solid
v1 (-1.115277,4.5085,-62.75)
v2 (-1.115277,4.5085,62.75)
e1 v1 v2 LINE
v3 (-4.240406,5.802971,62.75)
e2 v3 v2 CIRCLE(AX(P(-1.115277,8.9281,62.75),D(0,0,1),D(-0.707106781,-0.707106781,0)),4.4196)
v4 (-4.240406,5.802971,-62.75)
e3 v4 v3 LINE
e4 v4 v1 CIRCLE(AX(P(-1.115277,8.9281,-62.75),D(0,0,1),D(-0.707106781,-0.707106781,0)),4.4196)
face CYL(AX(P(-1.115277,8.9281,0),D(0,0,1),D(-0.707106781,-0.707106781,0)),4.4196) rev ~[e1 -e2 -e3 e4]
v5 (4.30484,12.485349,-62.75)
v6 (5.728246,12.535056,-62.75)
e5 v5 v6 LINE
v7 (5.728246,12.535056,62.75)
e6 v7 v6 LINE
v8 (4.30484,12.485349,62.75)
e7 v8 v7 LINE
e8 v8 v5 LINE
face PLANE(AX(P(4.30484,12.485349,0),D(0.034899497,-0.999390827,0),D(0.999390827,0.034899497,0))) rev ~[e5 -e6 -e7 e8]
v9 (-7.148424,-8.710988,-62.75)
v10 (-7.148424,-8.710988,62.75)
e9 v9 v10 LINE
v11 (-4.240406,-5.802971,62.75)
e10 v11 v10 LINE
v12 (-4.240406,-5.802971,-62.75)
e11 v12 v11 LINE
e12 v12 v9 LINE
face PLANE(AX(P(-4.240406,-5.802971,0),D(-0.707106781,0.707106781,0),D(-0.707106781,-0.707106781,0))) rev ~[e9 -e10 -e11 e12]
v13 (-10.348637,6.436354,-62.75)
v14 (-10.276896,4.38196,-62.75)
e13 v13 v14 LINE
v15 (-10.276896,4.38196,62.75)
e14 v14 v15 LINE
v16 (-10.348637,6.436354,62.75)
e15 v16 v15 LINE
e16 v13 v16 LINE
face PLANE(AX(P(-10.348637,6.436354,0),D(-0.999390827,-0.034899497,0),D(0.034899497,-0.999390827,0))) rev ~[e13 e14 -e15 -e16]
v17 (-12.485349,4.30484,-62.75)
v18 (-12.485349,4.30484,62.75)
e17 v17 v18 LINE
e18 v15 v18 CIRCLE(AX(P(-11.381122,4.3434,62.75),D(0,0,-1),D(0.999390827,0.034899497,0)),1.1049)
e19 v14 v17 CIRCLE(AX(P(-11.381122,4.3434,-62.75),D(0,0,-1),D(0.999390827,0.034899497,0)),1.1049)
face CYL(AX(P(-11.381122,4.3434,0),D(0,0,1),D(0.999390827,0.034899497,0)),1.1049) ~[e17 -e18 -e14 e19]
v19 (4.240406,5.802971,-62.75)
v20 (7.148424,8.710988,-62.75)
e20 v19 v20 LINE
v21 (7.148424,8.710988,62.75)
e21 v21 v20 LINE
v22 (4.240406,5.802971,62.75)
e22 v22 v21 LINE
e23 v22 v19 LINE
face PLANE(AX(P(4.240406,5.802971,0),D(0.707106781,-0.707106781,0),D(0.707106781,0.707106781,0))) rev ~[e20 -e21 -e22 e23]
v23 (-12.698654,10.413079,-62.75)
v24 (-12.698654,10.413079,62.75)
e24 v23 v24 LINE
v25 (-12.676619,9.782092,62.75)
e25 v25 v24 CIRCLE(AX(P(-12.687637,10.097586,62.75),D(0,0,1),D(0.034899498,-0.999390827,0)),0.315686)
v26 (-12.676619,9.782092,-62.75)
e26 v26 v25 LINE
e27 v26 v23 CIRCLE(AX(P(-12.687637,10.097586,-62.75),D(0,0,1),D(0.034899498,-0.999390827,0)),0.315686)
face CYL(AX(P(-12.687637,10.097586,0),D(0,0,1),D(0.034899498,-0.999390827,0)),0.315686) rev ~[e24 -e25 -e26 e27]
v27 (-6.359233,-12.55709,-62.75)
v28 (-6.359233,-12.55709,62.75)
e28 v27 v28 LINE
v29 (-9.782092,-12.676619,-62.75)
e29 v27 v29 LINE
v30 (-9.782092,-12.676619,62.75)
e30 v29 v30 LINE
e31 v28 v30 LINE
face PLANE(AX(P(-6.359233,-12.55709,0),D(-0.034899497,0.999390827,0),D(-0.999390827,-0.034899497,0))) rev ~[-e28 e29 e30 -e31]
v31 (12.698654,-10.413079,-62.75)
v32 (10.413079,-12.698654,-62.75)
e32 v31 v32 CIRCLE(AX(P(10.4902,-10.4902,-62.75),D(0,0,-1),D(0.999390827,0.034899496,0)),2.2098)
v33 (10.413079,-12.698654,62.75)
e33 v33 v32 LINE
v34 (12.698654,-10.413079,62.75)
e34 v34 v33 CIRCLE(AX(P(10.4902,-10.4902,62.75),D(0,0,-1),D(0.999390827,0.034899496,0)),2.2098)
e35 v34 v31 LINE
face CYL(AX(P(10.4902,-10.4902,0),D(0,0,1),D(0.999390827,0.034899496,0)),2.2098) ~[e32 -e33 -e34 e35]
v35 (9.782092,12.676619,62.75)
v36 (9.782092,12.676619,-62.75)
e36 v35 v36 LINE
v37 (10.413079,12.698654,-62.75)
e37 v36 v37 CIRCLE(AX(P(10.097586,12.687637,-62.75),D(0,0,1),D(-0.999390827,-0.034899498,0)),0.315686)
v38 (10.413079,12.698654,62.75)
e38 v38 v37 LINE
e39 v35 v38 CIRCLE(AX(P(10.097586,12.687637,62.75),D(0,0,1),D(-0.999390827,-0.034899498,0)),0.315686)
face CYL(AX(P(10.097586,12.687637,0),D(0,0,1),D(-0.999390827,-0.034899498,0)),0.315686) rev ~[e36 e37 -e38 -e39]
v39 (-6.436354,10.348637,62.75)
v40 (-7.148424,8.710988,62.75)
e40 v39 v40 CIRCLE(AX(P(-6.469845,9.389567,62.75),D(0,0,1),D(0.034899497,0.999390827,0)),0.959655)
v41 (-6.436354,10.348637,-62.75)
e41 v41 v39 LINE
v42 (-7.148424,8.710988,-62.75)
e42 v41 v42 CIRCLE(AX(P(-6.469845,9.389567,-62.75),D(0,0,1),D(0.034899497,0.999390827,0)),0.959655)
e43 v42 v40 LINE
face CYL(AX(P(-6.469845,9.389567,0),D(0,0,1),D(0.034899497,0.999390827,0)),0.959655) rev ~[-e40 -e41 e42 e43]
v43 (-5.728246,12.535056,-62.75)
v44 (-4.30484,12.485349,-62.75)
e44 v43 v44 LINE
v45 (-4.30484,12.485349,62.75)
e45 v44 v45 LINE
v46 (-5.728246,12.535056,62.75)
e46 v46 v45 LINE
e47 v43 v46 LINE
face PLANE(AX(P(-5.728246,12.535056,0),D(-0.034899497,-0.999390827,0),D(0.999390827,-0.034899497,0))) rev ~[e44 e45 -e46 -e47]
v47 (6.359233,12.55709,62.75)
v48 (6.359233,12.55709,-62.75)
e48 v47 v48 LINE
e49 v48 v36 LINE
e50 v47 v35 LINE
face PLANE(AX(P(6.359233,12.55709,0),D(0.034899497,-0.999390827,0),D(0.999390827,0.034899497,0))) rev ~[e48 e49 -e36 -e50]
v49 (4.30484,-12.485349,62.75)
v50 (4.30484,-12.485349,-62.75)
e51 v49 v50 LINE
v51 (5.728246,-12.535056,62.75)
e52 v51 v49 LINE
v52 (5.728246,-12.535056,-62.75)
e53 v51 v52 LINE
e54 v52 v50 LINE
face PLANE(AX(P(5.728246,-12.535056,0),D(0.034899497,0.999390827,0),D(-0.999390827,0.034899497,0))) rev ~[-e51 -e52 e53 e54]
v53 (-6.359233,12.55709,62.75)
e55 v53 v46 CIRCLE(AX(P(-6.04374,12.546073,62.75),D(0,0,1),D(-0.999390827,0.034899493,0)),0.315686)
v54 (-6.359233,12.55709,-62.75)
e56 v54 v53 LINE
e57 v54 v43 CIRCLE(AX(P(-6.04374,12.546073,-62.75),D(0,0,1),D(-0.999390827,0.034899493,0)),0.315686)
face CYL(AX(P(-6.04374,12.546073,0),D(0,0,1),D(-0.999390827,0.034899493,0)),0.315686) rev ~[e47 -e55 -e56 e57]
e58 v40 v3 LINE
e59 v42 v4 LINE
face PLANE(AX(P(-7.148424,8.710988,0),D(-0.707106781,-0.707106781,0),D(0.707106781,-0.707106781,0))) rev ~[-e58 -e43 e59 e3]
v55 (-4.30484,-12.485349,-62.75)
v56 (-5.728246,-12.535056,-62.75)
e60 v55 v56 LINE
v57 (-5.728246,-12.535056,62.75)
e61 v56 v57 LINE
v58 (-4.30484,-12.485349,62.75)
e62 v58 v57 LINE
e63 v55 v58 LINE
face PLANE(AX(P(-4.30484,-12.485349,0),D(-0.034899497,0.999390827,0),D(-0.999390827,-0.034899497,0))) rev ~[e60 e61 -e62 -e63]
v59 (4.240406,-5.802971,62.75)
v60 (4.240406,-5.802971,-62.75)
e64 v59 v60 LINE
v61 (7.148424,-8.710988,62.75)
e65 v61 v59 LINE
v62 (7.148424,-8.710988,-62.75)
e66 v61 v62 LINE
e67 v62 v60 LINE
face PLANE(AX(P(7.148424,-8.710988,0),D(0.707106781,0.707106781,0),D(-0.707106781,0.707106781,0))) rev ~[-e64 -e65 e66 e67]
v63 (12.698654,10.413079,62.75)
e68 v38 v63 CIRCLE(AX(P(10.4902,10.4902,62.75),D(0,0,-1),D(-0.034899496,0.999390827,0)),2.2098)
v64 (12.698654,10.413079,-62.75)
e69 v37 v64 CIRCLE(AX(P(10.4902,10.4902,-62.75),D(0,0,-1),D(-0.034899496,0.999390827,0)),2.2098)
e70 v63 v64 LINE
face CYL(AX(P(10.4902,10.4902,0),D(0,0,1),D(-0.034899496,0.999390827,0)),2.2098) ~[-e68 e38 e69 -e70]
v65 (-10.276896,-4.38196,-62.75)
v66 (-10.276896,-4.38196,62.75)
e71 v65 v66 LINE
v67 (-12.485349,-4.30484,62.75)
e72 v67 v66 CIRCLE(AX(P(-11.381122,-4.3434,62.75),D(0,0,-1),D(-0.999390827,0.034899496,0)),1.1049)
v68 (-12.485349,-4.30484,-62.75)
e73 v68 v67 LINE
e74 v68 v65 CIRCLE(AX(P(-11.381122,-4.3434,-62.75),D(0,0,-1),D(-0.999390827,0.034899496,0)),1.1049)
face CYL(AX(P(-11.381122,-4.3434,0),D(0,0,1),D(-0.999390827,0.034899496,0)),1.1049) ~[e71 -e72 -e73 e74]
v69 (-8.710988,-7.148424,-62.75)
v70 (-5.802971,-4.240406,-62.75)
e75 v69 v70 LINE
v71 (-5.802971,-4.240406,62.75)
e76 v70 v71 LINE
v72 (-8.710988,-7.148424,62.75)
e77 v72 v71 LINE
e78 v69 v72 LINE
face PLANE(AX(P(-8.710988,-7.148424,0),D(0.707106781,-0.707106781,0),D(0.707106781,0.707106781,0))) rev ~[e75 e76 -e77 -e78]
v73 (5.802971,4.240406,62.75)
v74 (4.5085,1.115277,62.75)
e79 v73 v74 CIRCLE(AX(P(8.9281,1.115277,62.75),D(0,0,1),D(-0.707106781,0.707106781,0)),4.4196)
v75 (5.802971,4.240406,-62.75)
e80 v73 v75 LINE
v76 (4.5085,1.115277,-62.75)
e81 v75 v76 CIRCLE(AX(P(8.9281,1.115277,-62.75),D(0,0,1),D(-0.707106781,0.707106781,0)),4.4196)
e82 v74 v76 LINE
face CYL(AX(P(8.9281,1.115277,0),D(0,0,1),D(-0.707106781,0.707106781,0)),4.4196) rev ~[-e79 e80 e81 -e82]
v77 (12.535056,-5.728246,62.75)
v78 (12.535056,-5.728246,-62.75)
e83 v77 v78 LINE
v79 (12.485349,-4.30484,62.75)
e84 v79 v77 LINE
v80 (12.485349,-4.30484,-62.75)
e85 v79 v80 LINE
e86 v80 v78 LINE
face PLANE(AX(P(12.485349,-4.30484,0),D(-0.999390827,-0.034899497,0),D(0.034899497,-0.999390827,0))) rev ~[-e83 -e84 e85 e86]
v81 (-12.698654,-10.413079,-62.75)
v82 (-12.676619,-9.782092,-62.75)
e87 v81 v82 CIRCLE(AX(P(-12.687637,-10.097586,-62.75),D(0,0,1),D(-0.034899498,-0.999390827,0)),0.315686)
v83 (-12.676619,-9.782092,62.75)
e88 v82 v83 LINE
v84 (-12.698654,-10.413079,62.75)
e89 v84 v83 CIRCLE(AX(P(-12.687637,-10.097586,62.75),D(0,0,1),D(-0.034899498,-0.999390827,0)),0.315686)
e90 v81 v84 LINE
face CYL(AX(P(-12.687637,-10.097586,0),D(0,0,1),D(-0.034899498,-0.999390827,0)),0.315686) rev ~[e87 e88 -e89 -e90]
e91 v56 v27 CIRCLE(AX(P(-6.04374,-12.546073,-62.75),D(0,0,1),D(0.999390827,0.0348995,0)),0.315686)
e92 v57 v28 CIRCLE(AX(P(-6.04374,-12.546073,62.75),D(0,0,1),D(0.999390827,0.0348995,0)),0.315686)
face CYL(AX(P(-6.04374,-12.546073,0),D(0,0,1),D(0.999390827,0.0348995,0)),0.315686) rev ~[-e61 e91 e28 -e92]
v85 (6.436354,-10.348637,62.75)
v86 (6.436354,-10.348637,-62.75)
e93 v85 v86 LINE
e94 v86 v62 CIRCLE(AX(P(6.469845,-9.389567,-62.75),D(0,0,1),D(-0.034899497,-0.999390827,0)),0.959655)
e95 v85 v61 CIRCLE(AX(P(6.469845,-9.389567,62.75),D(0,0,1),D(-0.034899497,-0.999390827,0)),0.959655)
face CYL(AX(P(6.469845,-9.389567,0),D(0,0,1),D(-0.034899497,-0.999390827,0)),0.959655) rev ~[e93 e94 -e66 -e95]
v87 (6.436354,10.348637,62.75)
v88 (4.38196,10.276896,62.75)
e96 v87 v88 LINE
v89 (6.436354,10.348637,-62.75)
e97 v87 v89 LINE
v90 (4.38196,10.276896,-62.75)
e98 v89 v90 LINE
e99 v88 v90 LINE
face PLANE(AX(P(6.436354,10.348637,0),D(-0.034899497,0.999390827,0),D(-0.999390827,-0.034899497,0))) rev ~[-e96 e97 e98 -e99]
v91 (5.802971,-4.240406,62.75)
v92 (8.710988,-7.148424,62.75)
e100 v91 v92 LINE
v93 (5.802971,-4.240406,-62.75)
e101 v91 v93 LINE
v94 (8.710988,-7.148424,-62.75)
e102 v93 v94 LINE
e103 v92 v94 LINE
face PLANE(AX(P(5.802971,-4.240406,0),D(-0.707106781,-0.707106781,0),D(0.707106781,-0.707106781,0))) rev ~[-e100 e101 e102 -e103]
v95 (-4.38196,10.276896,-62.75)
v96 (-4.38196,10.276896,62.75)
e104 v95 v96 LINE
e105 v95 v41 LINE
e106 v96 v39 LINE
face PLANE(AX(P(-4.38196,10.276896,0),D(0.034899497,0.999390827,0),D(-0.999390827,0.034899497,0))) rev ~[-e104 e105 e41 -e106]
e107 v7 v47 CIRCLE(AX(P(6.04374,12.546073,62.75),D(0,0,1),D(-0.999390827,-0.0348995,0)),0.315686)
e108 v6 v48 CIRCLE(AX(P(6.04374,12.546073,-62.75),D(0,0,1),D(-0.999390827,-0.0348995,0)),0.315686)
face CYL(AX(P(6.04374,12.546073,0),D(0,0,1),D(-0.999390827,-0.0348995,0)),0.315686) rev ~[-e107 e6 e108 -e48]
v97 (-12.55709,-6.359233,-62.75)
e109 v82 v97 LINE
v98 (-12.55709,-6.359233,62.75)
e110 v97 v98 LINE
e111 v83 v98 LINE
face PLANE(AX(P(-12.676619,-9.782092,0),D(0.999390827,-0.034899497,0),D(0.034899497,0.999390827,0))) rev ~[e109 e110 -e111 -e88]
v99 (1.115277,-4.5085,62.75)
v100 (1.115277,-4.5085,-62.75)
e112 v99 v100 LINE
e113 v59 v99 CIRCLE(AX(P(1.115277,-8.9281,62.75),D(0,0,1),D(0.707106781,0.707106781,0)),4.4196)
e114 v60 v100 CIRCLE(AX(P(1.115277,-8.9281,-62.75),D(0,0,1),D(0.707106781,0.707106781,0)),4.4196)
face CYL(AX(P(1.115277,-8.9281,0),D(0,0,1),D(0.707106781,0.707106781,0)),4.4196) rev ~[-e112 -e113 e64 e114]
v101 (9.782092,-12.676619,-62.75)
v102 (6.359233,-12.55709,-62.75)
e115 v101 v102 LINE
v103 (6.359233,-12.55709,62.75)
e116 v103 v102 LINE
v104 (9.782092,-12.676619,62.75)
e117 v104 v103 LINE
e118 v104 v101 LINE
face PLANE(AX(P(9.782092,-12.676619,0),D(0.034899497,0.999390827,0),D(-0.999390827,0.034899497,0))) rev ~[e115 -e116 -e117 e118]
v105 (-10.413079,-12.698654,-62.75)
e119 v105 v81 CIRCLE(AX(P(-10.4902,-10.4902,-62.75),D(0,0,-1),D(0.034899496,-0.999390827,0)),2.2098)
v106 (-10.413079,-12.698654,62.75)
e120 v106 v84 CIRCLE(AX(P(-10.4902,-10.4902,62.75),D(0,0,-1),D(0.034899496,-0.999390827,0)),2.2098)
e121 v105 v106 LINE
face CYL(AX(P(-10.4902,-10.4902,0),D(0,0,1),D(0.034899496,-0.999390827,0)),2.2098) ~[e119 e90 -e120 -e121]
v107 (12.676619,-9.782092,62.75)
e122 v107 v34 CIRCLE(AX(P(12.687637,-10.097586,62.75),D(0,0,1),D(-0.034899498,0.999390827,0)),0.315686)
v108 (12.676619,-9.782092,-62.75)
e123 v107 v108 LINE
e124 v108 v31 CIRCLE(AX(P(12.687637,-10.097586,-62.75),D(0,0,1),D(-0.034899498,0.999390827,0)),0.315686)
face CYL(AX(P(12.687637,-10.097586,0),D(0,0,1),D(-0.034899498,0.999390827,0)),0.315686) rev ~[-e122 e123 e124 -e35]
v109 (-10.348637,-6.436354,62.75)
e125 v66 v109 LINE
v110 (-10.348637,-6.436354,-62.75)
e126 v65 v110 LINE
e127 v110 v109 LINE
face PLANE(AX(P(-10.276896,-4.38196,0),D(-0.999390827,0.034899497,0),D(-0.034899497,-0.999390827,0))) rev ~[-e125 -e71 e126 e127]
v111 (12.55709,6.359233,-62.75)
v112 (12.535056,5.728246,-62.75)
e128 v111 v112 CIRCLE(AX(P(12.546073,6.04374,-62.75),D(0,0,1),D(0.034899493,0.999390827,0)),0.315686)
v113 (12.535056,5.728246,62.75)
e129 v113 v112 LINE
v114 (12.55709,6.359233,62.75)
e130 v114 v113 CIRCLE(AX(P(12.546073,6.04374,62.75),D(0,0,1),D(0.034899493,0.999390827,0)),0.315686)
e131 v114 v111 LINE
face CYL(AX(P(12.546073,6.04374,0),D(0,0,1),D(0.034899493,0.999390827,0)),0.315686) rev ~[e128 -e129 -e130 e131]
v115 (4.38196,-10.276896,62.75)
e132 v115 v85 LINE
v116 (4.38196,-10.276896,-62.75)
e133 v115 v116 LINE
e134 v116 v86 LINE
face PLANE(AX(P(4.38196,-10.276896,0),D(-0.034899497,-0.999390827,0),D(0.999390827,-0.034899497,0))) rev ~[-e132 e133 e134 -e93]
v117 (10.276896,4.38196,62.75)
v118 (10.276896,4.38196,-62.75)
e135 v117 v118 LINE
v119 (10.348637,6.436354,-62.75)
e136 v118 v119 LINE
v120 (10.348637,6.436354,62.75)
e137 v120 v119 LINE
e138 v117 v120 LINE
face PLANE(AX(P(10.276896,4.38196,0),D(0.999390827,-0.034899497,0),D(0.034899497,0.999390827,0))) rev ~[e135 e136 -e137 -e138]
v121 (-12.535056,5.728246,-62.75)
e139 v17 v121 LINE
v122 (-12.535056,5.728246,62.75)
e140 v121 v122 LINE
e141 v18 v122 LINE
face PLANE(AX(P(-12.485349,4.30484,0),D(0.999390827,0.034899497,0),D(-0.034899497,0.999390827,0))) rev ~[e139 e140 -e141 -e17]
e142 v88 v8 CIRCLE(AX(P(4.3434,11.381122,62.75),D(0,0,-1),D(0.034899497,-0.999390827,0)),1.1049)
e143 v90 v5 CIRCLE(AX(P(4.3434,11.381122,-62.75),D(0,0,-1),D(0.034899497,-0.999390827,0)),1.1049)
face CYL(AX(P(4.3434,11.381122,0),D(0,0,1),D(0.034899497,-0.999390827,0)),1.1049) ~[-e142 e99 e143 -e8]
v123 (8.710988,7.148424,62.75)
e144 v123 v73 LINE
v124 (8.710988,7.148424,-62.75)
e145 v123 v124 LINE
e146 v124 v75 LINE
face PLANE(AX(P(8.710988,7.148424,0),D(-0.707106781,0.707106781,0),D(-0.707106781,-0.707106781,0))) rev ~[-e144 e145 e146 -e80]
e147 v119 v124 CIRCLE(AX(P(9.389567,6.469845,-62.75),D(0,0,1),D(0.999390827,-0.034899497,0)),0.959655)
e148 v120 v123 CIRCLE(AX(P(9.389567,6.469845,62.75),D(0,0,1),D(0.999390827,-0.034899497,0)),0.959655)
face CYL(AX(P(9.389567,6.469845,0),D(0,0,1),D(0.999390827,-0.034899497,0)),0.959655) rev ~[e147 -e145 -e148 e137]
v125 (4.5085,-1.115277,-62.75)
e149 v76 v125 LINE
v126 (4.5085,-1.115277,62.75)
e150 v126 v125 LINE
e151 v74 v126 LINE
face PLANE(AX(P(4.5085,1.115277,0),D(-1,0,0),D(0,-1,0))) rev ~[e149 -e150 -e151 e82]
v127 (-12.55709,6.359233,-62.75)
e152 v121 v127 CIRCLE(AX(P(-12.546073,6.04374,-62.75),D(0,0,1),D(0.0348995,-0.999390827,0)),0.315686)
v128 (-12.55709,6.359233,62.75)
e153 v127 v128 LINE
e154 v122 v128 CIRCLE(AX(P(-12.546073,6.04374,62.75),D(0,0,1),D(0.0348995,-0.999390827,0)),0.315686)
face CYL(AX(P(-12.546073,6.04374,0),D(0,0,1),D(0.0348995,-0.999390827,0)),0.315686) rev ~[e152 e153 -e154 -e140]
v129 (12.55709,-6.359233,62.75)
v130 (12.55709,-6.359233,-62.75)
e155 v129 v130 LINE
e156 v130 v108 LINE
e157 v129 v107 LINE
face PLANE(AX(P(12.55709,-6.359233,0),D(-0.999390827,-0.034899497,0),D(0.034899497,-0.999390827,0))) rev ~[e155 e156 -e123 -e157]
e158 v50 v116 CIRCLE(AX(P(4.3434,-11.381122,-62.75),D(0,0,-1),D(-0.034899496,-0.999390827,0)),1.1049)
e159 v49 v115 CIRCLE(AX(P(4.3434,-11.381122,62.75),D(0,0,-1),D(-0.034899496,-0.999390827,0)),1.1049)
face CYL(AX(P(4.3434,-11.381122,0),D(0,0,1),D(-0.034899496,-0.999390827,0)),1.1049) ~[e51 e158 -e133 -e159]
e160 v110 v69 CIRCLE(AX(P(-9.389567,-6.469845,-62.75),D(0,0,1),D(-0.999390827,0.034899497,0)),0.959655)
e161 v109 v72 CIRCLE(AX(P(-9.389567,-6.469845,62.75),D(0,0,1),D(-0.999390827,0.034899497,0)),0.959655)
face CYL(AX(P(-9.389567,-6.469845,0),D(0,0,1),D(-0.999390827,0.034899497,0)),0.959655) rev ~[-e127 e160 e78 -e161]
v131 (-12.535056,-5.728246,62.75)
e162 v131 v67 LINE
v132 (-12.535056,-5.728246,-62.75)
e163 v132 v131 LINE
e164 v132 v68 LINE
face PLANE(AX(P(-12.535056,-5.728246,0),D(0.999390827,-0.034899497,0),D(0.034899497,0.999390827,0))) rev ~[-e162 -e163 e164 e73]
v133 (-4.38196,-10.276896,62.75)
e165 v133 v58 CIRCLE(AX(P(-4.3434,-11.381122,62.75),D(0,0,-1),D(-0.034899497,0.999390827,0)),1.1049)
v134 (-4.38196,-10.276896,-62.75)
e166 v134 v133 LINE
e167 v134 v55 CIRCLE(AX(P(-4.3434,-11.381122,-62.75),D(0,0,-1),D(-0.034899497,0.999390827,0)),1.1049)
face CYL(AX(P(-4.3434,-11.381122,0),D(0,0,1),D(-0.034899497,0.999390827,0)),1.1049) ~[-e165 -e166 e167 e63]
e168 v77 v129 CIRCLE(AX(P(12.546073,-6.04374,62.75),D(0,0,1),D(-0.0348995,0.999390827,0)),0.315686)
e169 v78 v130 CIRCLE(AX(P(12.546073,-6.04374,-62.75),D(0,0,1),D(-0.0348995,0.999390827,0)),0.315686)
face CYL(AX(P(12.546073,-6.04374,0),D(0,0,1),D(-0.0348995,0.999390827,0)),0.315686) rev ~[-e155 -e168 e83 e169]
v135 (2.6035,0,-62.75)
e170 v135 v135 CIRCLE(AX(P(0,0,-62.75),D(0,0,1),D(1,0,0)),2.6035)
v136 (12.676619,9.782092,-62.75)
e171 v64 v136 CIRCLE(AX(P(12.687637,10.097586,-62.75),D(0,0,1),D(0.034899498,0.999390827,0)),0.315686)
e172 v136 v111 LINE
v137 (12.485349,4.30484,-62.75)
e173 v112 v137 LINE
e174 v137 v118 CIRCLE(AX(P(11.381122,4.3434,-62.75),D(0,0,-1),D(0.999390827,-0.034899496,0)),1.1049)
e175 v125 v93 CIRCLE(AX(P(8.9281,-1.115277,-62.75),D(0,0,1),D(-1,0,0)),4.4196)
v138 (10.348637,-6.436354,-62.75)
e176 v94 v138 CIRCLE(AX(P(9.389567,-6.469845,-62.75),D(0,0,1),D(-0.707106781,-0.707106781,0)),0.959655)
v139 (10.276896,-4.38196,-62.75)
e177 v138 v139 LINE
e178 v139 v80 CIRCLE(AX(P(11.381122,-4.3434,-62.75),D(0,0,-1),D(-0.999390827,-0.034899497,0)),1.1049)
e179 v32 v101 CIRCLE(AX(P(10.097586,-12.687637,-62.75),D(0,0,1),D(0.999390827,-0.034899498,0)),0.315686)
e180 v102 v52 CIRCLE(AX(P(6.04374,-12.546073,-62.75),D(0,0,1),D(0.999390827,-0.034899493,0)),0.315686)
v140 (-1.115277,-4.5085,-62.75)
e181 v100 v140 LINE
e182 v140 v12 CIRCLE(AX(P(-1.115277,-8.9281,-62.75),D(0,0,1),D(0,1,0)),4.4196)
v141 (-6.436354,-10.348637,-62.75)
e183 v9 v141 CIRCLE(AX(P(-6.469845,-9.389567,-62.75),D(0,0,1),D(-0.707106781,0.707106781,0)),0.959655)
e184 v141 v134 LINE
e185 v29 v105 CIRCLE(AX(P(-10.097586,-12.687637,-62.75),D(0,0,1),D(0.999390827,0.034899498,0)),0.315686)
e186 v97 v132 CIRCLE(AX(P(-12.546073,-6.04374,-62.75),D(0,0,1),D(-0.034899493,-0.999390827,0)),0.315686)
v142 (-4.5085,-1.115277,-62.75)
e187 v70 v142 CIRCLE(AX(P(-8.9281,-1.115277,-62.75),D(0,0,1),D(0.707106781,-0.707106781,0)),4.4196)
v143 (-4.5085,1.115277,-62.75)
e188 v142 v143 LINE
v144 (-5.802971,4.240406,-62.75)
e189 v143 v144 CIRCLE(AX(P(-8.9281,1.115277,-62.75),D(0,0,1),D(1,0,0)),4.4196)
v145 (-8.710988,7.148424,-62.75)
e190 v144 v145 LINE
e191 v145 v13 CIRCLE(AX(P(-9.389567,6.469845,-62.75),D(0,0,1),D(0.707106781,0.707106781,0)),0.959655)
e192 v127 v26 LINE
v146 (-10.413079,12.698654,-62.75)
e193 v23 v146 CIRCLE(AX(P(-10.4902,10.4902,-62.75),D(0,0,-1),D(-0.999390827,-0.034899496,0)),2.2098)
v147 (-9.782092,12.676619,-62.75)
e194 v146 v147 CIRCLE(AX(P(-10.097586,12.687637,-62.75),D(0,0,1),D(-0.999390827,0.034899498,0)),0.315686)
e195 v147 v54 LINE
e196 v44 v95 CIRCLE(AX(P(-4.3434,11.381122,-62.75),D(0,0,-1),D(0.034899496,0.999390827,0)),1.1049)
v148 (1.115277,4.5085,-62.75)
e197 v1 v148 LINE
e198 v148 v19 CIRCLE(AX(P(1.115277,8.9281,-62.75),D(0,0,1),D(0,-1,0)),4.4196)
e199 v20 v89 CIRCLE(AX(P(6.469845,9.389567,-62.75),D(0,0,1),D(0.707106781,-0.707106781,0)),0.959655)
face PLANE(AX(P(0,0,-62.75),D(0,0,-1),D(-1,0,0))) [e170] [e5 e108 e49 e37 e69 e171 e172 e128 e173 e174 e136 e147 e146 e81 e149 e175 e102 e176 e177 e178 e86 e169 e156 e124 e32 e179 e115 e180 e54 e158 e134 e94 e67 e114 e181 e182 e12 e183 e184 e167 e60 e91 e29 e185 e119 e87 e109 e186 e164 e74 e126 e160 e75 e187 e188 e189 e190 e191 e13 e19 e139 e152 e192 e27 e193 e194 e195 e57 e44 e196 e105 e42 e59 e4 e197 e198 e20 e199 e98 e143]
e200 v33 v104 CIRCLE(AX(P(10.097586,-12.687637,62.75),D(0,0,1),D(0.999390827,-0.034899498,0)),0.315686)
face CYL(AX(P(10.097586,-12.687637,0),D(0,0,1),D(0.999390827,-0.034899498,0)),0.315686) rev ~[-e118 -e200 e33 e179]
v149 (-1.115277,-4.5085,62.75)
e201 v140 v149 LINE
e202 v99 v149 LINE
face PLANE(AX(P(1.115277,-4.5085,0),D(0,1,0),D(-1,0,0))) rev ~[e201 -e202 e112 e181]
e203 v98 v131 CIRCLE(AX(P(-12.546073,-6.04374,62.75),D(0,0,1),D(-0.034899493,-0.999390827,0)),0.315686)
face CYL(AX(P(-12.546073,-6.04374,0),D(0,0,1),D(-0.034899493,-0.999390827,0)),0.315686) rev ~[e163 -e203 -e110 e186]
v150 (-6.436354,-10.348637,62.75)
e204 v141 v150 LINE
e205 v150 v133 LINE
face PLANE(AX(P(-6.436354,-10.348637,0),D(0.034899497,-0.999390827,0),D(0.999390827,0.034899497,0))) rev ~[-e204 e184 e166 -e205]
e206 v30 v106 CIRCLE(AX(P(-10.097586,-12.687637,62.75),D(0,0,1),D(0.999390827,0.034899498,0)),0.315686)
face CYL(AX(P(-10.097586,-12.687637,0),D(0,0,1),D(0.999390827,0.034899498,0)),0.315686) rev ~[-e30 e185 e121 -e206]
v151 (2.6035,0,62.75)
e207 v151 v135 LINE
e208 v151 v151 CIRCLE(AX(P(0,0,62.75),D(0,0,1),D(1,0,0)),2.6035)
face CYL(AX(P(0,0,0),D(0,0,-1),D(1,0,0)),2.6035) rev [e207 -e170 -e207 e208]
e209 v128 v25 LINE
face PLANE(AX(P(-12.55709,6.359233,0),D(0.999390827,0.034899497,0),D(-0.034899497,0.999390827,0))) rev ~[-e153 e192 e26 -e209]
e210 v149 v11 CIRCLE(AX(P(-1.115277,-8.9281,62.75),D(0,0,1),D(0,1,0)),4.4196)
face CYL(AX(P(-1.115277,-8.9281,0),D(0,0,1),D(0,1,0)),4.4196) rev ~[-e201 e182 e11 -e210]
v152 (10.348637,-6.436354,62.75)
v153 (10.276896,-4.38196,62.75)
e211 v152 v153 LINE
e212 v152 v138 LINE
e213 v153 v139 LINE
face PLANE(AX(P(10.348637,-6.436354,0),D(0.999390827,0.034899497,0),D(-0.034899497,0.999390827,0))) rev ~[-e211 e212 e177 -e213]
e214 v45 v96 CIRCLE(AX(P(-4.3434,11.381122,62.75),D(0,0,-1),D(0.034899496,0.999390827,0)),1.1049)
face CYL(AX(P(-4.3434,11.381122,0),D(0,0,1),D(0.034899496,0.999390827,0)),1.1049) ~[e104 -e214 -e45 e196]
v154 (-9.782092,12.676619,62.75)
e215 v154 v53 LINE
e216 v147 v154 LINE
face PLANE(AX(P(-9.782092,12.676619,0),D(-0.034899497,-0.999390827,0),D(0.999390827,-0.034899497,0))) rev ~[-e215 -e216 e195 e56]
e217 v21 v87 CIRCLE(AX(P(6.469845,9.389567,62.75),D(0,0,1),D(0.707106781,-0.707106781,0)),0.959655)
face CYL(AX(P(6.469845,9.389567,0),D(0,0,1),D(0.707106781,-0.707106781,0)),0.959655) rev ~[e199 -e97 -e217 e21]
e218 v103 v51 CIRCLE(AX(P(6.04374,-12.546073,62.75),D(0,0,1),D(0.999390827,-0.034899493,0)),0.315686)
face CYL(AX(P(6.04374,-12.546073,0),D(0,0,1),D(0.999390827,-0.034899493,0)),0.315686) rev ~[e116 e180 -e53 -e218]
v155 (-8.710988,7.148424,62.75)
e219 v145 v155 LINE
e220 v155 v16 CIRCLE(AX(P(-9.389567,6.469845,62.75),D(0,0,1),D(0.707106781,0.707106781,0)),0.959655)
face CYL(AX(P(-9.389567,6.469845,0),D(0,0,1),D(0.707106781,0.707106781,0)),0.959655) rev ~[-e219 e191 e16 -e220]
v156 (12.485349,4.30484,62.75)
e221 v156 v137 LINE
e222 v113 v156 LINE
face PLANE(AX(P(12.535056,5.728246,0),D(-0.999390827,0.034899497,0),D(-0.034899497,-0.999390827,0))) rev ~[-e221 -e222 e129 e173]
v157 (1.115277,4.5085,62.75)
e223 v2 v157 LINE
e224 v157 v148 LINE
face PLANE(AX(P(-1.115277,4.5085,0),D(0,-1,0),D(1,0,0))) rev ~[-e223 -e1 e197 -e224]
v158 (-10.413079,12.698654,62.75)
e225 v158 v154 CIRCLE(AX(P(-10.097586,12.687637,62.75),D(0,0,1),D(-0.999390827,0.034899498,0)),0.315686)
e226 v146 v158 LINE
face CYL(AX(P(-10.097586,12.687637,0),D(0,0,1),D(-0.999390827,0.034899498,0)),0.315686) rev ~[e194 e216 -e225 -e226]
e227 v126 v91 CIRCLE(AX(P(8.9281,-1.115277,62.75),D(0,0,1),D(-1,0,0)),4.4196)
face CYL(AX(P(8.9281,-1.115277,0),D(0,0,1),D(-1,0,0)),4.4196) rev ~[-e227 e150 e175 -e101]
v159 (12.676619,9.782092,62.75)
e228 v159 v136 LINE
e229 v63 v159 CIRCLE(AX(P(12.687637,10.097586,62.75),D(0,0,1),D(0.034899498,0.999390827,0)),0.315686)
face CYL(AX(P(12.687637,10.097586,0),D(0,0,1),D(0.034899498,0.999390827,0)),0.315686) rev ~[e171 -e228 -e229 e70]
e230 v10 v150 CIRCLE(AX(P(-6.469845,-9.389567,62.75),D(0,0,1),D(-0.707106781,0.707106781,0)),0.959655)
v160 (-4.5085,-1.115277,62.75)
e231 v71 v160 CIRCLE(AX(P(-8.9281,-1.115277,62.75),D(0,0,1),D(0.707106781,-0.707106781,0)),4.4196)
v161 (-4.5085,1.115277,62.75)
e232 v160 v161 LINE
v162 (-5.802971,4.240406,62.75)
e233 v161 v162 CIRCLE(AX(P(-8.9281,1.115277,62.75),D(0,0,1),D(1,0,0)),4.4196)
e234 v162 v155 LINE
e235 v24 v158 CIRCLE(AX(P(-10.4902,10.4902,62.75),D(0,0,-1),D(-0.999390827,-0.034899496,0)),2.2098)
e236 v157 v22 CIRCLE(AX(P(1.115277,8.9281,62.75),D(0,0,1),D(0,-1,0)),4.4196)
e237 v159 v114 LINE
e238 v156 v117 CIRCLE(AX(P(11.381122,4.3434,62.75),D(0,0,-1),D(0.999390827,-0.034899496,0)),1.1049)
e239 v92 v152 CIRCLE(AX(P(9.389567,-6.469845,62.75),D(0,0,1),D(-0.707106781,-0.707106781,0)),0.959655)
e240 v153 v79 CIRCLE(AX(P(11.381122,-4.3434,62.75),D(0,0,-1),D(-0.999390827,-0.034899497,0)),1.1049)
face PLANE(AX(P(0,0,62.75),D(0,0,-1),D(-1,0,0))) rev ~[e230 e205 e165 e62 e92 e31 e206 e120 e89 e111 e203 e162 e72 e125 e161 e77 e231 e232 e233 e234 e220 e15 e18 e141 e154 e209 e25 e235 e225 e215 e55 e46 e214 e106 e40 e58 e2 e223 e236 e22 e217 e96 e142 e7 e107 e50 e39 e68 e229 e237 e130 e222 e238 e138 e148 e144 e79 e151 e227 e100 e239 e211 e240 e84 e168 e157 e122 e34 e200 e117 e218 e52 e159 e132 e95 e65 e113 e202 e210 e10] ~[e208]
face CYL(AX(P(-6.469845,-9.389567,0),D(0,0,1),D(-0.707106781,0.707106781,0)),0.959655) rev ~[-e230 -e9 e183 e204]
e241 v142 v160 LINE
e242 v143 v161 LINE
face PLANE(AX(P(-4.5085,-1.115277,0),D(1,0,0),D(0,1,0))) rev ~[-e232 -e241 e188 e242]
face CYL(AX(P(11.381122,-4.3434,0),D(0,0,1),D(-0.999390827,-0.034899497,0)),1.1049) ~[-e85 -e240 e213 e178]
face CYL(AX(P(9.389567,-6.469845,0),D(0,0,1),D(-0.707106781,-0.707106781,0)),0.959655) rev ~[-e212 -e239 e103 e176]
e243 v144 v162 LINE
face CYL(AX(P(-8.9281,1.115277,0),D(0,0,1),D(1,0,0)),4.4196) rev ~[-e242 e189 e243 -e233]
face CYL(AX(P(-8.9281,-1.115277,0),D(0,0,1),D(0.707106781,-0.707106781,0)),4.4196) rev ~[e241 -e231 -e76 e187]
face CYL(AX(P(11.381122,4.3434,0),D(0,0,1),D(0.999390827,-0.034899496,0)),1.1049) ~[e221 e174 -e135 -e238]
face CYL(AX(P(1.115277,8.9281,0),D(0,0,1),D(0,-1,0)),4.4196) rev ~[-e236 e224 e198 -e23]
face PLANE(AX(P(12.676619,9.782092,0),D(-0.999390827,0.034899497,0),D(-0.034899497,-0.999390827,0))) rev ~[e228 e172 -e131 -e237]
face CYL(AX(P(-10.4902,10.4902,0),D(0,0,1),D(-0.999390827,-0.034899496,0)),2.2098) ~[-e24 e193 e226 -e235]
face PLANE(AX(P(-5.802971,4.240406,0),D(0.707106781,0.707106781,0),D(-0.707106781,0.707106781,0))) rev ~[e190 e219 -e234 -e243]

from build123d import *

# Parameters (mm, degrees)
SKETCH3_R      = 2.6035
EXTRUDE1_DEPTH = 62.749999976


with BuildPart() as part:
    # Sketch3 → Extrude1 (new, symmetric)
    with BuildSketch(Plane.XY):
        with BuildLine():
            Line((-1.115277175, 4.5085), (1.115277175, 4.5085))
            ThreePointArc((1.115277175, 4.5085), (2.806584872, 4.844922018), (4.240406305, 5.80297087))
            Line((4.240406305, 5.80297087), (7.148423664, 8.710988229))
            ThreePointArc((7.148423664, 8.710988229), (7.349906316, 9.772227925), (6.436353897, 10.348636575))
            Line((6.436353897, 10.348636575), (4.381960454, 10.276895575))
            ThreePointArc((4.381960454, 10.276895575), (3.239173075, 11.342562046), (4.304839546, 12.485349424))
            Line((4.304839546, 12.485349424), (5.728246175, 12.535055879))
            ThreePointArc((5.728246175, 12.535055879), (6.054756855, 12.230579745), (6.35923299, 12.557090424))
            Line((6.35923299, 12.557090424), (9.782092278, 12.676619304))
            ThreePointArc((9.782092278, 12.676619304), (10.108602958, 12.37214317), (10.413079092, 12.69865385))
            ThreePointArc((10.413079092, 12.69865385), (12.052764565, 12.052764565), (12.69865385, 10.413079092))
            ThreePointArc((12.69865385, 10.413079092), (12.37214317, 10.108602958), (12.676619304, 9.782092278))
            Line((12.676619304, 9.782092278), (12.557090424, 6.35923299))
            ThreePointArc((12.557090424, 6.35923299), (12.230579745, 6.054756855), (12.535055879, 5.728246175))
            Line((12.535055879, 5.728246175), (12.485349424, 4.304839546))
            ThreePointArc((12.485349424, 4.304839546), (11.342562046, 3.239173075), (10.276895575, 4.381960454))
            Line((10.276895575, 4.381960454), (10.348636575, 6.436353897))
            ThreePointArc((10.348636575, 6.436353897), (9.772227925, 7.349906316), (8.710988229, 7.148423664))
            Line((8.710988229, 7.148423664), (5.80297087, 4.240406305))
            ThreePointArc((5.80297087, 4.240406305), (4.844922018, 2.806584872), (4.5085, 1.115277175))
            Line((4.5085, 1.115277175), (4.5085, -1.115277175))
            ThreePointArc((4.5085, -1.115277175), (4.844922018, -2.806584872), (5.80297087, -4.240406305))
            Line((5.80297087, -4.240406305), (8.710988229, -7.148423664))
            ThreePointArc((8.710988229, -7.148423664), (9.772227925, -7.349906316), (10.348636575, -6.436353897))
            Line((10.348636575, -6.436353897), (10.276895575, -4.381960454))
            ThreePointArc((10.276895575, -4.381960454), (11.342562046, -3.239173075), (12.485349424, -4.304839546))
            Line((12.485349424, -4.304839546), (12.535055879, -5.728246175))
            ThreePointArc((12.535055879, -5.728246175), (12.230579745, -6.054756855), (12.557090424, -6.35923299))
            Line((12.557090424, -6.35923299), (12.676619304, -9.782092278))
            ThreePointArc((12.676619304, -9.782092278), (12.37214317, -10.108602958), (12.69865385, -10.413079092))
            ThreePointArc((12.69865385, -10.413079092), (12.052764565, -12.052764565), (10.413079092, -12.69865385))
            ThreePointArc((10.413079092, -12.69865385), (10.108602958, -12.37214317), (9.782092278, -12.676619304))
            Line((9.782092278, -12.676619304), (6.35923299, -12.557090424))
            ThreePointArc((6.35923299, -12.557090424), (6.054756855, -12.230579745), (5.728246175, -12.535055879))
            Line((5.728246175, -12.535055879), (4.304839546, -12.485349424))
            ThreePointArc((4.304839546, -12.485349424), (3.239173075, -11.342562046), (4.381960454, -10.276895575))
            Line((4.381960454, -10.276895575), (6.436353897, -10.348636575))
            ThreePointArc((6.436353897, -10.348636575), (7.349906316, -9.772227925), (7.148423664, -8.710988229))
            Line((7.148423664, -8.710988229), (4.240406305, -5.80297087))
            ThreePointArc((4.240406305, -5.80297087), (2.806584872, -4.844922018), (1.115277175, -4.5085))
            Line((1.115277175, -4.5085), (-1.115277175, -4.5085))
            ThreePointArc((-1.115277175, -4.5085), (-2.806584872, -4.844922018), (-4.240406305, -5.80297087))
            Line((-4.240406305, -5.80297087), (-7.148423664, -8.710988229))
            ThreePointArc((-7.148423664, -8.710988229), (-7.349906316, -9.772227925), (-6.436353897, -10.348636575))
            Line((-6.436353897, -10.348636575), (-4.381960454, -10.276895575))
            ThreePointArc((-4.381960454, -10.276895575), (-3.239173075, -11.342562046), (-4.304839546, -12.485349424))
            Line((-4.304839546, -12.485349424), (-5.728246175, -12.535055879))
            ThreePointArc((-5.728246175, -12.535055879), (-6.054756855, -12.230579745), (-6.35923299, -12.557090424))
            Line((-6.35923299, -12.557090424), (-9.782092278, -12.676619304))
            ThreePointArc((-9.782092278, -12.676619304), (-10.108602958, -12.37214317), (-10.413079092, -12.69865385))
            ThreePointArc((-10.413079092, -12.69865385), (-12.052764565, -12.052764565), (-12.69865385, -10.413079092))
            ThreePointArc((-12.69865385, -10.413079092), (-12.37214317, -10.108602958), (-12.676619304, -9.782092278))
            Line((-12.676619304, -9.782092278), (-12.557090424, -6.35923299))
            ThreePointArc((-12.557090424, -6.35923299), (-12.230579745, -6.054756855), (-12.535055879, -5.728246175))
            Line((-12.535055879, -5.728246175), (-12.485349424, -4.304839546))
            ThreePointArc((-12.485349424, -4.304839546), (-11.342562046, -3.239173075), (-10.276895575, -4.381960454))
            Line((-10.276895575, -4.381960454), (-10.348636575, -6.436353897))
            ThreePointArc((-10.348636575, -6.436353897), (-9.772227925, -7.349906316), (-8.710988229, -7.148423664))
            Line((-8.710988229, -7.148423664), (-5.80297087, -4.240406305))
            ThreePointArc((-5.80297087, -4.240406305), (-4.844922018, -2.806584872), (-4.5085, -1.115277175))
            Line((-4.5085, -1.115277175), (-4.5085, 1.115277175))
            ThreePointArc((-4.5085, 1.115277175), (-4.844922018, 2.806584872), (-5.80297087, 4.240406305))
            Line((-5.80297087, 4.240406305), (-8.710988229, 7.148423664))
            ThreePointArc((-8.710988229, 7.148423664), (-9.772227925, 7.349906316), (-10.348636575, 6.436353897))
            Line((-10.348636575, 6.436353897), (-10.276895575, 4.381960454))
            ThreePointArc((-10.276895575, 4.381960454), (-11.342562046, 3.239173075), (-12.485349424, 4.304839546))
            Line((-12.485349424, 4.304839546), (-12.535055879, 5.728246175))
            ThreePointArc((-12.535055879, 5.728246175), (-12.230579745, 6.054756855), (-12.557090424, 6.35923299))
            Line((-12.557090424, 6.35923299), (-12.676619304, 9.782092278))
            ThreePointArc((-12.676619304, 9.782092278), (-12.37214317, 10.108602958), (-12.69865385, 10.413079092))
            ThreePointArc((-12.69865385, 10.413079092), (-12.052764565, 12.052764565), (-10.413079092, 12.69865385))
            ThreePointArc((-10.413079092, 12.69865385), (-10.108602958, 12.37214317), (-9.782092278, 12.676619304))
            Line((-9.782092278, 12.676619304), (-6.35923299, 12.557090424))
            ThreePointArc((-6.35923299, 12.557090424), (-6.054756855, 12.230579745), (-5.728246175, 12.535055879))
            Line((-5.728246175, 12.535055879), (-4.304839546, 12.485349424))
            ThreePointArc((-4.304839546, 12.485349424), (-3.239173075, 11.342562046), (-4.381960454, 10.276895575))
            Line((-4.381960454, 10.276895575), (-6.436353897, 10.348636575))
            ThreePointArc((-6.436353897, 10.348636575), (-7.349906316, 9.772227925), (-7.148423664, 8.710988229))
            Line((-7.148423664, 8.710988229), (-4.240406305, 5.80297087))
            ThreePointArc((-4.240406305, 5.80297087), (-2.806584872, 4.844922018), (-1.115277175, 4.5085))
        make_face()
        Circle(SKETCH3_R, mode=Mode.SUBTRACT)
    extrude(amount=EXTRUDE1_DEPTH, both=True)


solid = part.part
